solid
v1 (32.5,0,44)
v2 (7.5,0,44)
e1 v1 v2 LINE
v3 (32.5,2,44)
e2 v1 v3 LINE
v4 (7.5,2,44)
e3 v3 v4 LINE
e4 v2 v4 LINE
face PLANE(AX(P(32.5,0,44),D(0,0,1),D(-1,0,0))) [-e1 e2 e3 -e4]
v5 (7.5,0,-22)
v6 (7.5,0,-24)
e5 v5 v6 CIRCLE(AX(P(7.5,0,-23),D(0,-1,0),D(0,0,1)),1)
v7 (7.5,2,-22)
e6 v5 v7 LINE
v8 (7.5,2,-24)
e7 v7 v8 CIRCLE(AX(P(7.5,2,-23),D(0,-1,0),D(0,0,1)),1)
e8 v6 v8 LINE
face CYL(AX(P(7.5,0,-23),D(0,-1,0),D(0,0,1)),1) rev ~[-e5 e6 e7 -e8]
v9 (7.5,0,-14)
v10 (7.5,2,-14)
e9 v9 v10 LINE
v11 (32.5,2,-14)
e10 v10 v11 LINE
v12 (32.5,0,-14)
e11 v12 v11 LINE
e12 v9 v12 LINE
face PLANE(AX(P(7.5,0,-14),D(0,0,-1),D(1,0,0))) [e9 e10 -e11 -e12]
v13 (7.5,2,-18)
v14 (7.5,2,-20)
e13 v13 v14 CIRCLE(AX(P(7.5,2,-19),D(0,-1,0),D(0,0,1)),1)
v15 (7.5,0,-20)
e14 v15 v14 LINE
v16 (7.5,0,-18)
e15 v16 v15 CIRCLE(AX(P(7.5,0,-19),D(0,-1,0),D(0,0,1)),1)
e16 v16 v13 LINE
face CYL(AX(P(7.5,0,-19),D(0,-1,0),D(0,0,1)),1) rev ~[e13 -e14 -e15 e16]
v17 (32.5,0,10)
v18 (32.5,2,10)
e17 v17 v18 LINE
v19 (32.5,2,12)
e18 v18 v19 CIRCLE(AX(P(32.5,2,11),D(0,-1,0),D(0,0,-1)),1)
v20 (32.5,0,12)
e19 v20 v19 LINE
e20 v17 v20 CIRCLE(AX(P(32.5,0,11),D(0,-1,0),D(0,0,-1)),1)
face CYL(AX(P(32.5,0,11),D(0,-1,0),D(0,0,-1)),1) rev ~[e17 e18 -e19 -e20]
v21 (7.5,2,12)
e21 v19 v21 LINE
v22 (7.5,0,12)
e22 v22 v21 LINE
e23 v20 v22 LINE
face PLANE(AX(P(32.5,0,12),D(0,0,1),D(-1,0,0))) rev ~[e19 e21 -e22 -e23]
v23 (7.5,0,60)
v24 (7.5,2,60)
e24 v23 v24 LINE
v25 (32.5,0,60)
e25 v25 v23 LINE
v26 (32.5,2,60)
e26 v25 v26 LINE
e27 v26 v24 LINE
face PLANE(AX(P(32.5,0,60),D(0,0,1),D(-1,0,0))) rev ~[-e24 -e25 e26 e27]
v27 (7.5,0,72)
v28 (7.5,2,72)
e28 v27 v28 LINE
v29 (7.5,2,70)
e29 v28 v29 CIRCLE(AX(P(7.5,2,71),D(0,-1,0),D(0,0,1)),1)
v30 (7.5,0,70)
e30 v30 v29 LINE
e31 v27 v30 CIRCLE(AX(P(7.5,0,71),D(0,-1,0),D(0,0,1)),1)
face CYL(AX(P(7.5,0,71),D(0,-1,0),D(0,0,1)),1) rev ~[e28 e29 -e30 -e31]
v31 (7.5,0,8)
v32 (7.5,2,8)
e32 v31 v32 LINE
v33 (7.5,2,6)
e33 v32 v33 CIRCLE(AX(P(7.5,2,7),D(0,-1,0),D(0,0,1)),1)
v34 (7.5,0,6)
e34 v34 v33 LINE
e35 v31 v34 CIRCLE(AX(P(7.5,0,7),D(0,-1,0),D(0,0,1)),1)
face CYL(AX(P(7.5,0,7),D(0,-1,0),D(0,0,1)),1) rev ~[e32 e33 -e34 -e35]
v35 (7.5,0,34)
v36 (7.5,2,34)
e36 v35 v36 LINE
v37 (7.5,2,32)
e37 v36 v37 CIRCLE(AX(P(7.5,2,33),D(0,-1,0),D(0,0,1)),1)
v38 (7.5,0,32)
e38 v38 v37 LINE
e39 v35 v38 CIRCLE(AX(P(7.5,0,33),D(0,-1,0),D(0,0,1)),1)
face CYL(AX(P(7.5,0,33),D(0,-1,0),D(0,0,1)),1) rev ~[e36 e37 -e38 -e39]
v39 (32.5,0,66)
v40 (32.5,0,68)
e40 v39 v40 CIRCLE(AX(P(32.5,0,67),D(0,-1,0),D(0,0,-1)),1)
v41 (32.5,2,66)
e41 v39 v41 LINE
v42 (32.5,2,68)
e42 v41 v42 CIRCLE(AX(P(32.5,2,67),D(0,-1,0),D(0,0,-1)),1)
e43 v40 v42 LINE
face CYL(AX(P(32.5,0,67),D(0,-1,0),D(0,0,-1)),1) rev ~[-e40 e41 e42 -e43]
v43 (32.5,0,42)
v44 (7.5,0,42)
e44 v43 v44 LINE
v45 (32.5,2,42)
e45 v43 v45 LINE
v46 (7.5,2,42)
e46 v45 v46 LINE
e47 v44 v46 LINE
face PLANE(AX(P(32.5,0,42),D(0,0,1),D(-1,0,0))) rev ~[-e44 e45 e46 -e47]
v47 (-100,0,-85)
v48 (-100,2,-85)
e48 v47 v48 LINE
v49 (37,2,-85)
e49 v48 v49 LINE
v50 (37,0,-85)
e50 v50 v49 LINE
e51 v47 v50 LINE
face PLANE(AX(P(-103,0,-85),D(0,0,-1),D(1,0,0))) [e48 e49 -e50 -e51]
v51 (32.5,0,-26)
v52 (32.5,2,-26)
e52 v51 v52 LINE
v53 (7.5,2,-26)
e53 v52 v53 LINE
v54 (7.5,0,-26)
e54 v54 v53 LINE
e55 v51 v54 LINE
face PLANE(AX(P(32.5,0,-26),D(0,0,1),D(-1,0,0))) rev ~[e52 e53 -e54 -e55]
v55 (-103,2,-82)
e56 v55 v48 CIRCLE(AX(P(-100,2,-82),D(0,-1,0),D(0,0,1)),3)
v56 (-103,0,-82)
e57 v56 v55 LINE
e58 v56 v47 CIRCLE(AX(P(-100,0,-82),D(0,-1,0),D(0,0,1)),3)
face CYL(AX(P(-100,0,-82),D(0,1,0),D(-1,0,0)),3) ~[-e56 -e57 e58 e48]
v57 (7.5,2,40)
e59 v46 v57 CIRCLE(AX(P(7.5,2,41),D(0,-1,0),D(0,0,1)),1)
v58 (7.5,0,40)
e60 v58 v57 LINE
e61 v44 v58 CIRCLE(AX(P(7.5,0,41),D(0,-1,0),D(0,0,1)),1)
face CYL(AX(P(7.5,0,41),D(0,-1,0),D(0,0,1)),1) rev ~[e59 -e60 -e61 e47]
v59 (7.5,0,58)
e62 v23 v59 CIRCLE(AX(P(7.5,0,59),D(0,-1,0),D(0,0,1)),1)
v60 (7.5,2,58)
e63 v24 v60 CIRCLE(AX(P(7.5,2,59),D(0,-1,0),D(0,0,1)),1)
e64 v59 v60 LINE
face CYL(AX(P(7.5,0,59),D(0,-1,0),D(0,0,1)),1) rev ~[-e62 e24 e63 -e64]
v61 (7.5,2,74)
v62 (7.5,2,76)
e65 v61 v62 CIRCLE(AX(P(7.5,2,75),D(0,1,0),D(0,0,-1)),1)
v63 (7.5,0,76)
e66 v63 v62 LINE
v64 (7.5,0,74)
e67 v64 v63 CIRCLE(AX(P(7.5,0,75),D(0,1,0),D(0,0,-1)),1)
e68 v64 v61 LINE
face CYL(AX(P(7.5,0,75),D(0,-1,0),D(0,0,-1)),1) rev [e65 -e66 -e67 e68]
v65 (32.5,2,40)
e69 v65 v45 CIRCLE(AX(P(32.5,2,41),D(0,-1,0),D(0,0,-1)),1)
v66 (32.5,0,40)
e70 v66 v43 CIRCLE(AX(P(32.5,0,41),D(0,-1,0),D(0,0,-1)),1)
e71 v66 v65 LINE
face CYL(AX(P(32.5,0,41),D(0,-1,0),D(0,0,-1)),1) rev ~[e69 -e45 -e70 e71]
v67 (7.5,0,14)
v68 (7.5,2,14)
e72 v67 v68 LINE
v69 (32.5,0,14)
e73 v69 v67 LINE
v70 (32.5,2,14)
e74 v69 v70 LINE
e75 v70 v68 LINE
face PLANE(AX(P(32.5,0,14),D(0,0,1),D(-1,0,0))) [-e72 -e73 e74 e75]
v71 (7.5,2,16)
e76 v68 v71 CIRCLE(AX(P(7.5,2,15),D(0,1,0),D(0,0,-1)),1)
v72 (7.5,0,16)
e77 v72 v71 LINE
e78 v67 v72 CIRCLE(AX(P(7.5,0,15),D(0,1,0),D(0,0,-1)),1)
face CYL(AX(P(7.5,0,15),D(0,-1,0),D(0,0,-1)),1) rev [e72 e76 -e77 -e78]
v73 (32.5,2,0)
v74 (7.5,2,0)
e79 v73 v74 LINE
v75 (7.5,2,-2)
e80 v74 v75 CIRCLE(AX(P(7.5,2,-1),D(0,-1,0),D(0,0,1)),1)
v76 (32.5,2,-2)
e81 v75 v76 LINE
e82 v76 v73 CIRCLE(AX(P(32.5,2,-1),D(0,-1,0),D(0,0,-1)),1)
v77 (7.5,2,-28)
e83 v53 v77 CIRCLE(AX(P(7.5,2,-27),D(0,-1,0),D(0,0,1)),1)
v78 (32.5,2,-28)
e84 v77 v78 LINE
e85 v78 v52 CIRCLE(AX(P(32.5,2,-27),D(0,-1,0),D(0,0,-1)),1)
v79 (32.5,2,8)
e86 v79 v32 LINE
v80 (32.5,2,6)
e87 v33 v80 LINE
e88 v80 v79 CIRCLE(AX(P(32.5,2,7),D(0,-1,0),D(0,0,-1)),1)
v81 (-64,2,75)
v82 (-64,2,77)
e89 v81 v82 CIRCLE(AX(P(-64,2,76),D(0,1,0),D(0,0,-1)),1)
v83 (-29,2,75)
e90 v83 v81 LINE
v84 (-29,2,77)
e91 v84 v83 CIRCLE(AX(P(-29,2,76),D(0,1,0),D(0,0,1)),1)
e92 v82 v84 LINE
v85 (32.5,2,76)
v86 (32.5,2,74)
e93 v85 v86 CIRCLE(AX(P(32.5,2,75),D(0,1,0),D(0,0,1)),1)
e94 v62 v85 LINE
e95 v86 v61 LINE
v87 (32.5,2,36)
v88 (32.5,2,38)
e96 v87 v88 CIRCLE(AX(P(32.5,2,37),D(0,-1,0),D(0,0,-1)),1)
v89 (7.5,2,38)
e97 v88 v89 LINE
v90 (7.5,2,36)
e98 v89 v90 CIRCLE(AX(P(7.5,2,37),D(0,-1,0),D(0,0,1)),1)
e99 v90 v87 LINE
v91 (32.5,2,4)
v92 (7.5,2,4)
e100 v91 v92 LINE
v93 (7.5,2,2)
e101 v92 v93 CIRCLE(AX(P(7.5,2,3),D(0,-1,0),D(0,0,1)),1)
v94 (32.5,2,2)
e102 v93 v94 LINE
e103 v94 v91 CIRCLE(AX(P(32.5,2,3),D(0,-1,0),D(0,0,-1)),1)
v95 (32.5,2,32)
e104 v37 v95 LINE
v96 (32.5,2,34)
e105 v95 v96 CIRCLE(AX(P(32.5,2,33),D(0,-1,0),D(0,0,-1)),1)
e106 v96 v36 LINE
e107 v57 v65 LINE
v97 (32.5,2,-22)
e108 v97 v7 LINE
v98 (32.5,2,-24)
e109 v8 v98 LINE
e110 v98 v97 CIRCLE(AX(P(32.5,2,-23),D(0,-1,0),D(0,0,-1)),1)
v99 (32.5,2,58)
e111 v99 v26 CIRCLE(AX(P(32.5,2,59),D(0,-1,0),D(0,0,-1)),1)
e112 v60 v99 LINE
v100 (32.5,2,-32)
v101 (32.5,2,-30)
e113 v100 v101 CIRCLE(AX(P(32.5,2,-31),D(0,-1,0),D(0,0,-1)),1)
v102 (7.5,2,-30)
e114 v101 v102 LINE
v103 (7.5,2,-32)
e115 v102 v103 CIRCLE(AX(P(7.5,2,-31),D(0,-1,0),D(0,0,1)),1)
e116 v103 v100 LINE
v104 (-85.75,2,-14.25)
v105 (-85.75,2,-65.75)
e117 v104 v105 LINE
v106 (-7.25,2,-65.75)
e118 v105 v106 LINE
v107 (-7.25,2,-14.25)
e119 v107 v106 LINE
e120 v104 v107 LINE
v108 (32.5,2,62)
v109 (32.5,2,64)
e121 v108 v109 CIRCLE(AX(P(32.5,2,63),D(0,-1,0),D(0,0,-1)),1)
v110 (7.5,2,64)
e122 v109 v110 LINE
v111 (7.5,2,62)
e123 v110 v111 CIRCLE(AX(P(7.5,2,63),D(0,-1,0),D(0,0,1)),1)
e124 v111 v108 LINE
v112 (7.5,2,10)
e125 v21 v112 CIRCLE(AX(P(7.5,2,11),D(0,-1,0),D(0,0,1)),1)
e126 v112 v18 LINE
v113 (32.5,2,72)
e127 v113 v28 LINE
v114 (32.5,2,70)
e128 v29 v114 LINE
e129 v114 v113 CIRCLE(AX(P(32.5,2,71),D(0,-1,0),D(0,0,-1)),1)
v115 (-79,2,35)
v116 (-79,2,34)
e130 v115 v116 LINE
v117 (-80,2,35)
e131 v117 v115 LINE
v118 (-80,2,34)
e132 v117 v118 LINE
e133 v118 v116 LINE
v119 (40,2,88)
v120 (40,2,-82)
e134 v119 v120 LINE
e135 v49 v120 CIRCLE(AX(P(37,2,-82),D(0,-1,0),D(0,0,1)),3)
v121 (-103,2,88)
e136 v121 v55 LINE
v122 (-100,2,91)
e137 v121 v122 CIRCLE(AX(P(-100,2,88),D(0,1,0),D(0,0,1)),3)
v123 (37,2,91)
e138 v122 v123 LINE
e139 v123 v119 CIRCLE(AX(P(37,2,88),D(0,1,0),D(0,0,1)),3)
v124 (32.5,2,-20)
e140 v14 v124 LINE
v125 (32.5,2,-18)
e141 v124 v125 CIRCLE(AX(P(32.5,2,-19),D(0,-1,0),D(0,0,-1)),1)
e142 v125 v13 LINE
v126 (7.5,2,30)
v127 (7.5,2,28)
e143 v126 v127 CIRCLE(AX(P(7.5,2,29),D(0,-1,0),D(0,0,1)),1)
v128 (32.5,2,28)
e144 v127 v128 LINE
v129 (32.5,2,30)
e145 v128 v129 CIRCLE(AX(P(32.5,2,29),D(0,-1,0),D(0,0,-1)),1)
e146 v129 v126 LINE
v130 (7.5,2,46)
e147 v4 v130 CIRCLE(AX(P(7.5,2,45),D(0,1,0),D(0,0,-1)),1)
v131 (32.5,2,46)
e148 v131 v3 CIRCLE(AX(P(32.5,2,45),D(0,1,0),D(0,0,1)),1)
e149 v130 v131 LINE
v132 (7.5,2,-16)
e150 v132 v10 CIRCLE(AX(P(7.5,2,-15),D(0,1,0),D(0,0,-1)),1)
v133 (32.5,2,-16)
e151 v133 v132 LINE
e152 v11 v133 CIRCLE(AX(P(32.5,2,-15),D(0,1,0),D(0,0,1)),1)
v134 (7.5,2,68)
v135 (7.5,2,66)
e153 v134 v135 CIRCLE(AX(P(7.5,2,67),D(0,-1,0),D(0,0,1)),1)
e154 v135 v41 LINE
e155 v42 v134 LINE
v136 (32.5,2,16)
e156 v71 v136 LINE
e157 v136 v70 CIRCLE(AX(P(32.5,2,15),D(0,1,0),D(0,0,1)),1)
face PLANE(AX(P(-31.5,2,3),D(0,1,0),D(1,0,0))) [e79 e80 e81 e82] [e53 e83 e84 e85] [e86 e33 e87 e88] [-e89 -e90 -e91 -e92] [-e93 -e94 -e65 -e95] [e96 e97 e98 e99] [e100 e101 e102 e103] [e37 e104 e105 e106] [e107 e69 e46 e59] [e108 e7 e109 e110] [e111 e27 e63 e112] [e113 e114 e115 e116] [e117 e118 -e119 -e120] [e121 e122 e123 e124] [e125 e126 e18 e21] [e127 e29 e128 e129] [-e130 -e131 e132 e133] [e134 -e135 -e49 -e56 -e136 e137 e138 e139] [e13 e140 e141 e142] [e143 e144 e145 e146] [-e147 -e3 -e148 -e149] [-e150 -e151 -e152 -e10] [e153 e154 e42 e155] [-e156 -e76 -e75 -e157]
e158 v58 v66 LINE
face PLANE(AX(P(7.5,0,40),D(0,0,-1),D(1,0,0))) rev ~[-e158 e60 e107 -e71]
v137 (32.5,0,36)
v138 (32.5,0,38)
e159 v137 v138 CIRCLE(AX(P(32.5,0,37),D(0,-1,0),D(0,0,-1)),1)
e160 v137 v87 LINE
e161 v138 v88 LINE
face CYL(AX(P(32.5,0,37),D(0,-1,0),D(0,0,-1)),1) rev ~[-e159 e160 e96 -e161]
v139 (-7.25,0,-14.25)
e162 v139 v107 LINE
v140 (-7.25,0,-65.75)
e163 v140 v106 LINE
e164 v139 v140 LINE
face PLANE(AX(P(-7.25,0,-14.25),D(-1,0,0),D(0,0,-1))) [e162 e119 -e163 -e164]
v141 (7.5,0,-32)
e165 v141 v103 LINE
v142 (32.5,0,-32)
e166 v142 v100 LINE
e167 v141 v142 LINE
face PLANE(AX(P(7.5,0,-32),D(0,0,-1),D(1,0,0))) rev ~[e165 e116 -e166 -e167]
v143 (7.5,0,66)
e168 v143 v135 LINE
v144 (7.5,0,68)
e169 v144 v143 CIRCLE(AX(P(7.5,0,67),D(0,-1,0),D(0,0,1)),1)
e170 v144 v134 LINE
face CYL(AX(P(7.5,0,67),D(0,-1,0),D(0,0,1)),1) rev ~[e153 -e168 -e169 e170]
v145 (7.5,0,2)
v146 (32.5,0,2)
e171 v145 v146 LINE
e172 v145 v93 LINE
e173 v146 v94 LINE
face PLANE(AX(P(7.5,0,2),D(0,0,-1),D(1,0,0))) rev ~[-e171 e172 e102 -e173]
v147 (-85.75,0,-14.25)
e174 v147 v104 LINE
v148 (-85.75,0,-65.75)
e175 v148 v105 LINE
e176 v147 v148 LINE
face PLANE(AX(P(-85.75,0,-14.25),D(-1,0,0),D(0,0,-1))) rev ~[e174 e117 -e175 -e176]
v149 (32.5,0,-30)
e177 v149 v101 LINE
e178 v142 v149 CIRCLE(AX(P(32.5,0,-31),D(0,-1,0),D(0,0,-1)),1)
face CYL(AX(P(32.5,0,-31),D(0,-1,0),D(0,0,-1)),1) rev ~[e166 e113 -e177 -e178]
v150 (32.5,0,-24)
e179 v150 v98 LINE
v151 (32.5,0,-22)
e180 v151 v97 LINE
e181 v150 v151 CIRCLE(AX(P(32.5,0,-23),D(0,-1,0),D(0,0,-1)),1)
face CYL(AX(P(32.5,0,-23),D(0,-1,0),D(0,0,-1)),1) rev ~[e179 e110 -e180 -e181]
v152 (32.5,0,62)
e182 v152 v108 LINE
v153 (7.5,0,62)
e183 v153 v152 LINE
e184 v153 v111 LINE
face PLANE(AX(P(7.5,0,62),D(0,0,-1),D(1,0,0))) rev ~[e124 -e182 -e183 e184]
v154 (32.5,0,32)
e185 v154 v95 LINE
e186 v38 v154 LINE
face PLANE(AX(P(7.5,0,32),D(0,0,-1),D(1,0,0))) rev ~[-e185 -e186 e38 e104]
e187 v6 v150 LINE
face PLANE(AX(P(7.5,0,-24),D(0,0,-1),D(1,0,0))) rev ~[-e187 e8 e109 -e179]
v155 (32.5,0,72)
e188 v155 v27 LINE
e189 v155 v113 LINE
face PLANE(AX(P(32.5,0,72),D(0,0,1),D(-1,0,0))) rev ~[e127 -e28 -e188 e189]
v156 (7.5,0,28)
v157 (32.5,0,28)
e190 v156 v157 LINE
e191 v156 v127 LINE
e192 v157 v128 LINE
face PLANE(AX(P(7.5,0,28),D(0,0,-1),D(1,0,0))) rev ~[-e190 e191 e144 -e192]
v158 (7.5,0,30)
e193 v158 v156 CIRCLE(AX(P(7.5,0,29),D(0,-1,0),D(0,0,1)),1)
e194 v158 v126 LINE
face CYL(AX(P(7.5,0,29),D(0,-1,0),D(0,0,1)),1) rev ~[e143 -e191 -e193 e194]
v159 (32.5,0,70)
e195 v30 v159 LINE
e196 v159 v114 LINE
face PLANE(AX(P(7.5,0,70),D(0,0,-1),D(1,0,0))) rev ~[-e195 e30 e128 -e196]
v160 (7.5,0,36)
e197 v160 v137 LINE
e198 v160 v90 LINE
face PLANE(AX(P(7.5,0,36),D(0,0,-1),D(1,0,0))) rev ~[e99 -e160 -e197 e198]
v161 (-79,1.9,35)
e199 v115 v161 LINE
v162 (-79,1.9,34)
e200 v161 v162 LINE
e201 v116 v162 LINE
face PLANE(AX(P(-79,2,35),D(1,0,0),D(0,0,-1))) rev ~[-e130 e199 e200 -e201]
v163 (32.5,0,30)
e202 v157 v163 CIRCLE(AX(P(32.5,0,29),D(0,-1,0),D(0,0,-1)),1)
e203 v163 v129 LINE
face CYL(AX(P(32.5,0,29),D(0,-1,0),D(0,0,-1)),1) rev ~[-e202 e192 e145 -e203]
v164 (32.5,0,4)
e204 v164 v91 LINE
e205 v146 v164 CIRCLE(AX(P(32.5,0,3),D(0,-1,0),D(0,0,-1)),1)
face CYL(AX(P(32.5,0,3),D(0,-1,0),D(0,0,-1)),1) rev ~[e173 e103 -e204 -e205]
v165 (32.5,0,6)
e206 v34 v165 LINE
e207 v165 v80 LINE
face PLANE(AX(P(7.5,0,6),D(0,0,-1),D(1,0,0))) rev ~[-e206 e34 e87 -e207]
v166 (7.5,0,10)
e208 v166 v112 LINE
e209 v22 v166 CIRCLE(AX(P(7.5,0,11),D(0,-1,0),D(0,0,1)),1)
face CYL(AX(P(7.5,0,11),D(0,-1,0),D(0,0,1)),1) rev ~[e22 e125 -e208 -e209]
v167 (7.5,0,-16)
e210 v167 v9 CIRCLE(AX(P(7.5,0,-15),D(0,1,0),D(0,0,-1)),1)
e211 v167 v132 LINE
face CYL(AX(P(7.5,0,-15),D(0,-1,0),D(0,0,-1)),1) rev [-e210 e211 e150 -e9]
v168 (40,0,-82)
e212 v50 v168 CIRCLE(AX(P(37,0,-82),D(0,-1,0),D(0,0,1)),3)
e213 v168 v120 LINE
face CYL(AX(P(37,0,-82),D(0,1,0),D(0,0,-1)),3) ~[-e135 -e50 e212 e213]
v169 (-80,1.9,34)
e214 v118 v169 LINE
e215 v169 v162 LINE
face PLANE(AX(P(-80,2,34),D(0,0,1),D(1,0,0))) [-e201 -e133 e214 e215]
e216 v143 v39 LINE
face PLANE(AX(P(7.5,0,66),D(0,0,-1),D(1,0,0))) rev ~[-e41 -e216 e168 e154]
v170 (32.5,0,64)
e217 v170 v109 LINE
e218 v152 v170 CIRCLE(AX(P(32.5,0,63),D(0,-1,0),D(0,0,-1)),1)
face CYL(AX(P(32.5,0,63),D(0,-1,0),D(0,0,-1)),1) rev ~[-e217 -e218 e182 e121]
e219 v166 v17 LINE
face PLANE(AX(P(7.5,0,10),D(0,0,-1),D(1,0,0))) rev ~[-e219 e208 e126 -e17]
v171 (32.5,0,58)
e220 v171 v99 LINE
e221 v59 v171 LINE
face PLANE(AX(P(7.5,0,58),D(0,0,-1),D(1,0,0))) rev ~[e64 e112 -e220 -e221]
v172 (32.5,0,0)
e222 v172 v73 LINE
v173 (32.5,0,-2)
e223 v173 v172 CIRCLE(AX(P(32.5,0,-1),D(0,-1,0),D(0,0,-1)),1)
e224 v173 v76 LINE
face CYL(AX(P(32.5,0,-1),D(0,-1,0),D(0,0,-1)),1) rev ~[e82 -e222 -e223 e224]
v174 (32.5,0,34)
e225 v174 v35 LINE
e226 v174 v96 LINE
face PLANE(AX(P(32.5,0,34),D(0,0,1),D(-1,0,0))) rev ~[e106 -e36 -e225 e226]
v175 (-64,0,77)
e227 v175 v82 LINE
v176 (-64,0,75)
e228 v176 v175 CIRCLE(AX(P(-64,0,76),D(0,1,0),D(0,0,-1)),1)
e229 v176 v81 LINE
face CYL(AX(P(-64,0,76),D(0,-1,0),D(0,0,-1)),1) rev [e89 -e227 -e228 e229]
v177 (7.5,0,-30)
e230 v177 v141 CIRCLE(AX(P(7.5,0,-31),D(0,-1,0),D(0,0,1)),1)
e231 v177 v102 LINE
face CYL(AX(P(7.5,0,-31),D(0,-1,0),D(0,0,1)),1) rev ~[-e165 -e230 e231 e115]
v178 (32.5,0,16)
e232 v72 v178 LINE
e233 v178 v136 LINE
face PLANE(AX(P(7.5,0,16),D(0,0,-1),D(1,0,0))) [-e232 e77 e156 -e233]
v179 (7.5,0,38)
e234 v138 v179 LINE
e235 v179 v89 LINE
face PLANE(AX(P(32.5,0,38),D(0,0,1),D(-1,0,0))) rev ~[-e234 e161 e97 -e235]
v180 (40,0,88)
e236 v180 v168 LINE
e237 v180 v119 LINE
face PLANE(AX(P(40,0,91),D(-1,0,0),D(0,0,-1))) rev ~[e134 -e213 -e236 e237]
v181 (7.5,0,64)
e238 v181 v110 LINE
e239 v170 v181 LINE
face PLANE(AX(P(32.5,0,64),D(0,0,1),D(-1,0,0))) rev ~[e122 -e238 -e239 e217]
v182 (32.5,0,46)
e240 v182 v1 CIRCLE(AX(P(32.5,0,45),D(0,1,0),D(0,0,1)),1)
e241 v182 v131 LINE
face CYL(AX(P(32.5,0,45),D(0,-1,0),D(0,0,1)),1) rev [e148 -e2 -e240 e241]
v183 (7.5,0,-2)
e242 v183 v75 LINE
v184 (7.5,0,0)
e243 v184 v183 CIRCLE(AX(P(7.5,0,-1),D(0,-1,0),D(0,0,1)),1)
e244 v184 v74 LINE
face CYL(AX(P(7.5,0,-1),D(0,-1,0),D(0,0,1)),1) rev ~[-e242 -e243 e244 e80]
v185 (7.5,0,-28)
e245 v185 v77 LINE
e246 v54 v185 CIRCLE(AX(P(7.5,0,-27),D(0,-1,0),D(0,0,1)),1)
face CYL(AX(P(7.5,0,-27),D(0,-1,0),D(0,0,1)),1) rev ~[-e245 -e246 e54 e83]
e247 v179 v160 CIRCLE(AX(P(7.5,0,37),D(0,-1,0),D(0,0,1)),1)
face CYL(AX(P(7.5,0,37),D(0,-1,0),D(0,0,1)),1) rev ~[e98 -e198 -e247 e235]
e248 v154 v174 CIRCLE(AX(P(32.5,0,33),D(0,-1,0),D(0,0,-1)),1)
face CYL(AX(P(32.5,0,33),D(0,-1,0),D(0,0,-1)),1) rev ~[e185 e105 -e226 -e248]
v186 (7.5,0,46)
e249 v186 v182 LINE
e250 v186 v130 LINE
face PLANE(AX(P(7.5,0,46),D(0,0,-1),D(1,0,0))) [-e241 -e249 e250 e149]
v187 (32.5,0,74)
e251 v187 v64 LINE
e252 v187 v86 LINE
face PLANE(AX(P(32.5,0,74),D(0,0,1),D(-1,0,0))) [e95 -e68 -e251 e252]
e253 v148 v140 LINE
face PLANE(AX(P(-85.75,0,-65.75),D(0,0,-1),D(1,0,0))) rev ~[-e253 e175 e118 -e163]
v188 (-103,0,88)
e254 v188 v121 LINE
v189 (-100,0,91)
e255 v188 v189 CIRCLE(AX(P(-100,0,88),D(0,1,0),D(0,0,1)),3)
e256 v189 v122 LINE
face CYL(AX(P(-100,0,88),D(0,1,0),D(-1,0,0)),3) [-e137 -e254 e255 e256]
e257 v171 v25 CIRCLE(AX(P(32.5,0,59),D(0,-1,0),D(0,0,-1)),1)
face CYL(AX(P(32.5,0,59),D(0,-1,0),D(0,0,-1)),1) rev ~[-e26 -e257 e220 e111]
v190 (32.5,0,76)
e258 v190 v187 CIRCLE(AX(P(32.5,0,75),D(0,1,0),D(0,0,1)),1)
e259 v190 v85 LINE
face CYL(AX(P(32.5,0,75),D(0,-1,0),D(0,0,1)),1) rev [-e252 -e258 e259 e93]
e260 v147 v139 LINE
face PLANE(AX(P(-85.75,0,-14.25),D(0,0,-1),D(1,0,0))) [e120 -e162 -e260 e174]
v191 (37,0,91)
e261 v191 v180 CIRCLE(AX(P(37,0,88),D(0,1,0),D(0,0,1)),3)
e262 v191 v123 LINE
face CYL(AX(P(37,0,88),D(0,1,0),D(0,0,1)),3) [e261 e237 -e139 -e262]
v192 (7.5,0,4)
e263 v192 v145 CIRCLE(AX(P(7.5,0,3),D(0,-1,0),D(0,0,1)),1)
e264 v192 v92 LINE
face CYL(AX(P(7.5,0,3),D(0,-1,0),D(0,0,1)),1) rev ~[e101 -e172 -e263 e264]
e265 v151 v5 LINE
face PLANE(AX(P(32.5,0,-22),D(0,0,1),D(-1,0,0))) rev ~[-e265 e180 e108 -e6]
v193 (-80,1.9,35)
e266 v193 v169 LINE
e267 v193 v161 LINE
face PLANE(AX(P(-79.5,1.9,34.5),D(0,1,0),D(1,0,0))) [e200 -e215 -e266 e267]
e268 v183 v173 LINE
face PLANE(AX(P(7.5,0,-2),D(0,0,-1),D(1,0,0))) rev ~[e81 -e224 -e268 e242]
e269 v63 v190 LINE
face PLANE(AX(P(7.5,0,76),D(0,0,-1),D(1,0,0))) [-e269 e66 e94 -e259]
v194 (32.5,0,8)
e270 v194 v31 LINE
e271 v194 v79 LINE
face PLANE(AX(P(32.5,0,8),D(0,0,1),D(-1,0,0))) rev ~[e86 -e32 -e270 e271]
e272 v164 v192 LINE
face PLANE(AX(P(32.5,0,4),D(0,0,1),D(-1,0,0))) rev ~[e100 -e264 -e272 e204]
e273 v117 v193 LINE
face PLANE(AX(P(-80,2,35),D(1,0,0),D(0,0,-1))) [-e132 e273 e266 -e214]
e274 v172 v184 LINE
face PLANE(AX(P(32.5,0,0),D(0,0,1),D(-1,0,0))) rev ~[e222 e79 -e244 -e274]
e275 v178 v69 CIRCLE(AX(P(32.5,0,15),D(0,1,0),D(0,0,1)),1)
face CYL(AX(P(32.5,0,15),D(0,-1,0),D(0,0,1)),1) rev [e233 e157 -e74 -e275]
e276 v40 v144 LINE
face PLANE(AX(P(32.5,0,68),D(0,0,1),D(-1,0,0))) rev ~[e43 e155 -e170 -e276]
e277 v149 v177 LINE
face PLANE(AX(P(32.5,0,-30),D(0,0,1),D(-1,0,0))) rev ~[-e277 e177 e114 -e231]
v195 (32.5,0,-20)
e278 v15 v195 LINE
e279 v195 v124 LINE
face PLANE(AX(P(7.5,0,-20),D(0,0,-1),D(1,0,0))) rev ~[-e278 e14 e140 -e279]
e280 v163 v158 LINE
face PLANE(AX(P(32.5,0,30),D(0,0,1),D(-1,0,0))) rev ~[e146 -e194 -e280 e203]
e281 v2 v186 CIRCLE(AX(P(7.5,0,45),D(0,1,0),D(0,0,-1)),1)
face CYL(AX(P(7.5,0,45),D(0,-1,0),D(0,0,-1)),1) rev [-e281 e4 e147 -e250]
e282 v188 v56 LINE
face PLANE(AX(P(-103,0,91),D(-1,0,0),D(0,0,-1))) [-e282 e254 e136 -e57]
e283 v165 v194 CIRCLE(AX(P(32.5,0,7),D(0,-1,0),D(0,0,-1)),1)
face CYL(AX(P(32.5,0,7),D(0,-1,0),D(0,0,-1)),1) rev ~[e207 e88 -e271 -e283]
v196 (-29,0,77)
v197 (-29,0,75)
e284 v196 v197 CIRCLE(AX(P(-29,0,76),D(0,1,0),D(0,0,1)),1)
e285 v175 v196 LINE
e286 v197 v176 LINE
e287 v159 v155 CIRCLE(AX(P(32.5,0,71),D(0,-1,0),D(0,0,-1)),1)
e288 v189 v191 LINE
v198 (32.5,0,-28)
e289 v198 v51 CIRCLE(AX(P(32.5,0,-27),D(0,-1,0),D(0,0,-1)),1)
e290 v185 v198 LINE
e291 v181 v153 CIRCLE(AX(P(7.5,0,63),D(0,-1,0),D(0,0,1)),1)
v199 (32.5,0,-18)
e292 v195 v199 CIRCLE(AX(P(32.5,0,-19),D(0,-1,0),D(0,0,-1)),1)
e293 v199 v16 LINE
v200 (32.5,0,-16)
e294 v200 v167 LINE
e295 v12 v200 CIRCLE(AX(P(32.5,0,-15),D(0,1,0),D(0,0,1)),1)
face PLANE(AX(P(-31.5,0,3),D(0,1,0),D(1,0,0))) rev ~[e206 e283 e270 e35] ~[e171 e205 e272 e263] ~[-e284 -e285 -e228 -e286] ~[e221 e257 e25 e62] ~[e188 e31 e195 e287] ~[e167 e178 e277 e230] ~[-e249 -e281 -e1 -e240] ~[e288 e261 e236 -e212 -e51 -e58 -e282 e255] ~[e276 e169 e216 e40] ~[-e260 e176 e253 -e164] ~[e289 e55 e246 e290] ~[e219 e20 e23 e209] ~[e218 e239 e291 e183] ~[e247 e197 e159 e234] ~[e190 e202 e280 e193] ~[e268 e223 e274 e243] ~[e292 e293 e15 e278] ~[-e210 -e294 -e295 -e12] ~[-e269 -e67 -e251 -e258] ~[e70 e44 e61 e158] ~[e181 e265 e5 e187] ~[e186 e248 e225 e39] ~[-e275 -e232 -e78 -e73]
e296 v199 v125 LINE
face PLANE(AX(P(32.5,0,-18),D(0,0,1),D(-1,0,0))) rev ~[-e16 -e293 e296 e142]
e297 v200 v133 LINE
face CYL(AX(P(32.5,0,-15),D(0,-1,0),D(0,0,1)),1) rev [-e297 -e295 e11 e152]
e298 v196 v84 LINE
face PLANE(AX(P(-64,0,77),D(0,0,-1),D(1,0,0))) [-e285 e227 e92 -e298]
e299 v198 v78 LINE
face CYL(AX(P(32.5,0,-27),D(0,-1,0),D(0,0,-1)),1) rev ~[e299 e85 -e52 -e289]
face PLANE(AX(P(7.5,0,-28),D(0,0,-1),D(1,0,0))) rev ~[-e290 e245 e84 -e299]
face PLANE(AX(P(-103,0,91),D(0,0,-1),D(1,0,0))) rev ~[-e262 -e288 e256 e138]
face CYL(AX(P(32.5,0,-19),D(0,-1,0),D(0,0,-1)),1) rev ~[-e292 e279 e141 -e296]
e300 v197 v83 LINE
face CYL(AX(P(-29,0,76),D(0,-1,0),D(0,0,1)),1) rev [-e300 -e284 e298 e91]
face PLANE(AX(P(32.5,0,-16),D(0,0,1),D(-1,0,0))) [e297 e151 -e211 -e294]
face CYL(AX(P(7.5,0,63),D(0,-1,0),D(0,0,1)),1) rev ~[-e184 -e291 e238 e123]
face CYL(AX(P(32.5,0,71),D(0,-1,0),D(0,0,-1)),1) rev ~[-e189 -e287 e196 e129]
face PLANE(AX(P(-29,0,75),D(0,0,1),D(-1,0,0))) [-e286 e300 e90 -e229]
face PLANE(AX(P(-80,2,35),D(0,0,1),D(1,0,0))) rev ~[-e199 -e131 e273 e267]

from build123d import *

# Parameters (mm, degrees)
SKETCH1_W           = 143
SKETCH1_H           = 176
SKETCH1_W_2         = 78.5
SKETCH1_H_2         = 51.5
BOSS_EXTRUDE1_DEPTH = 2
SKETCH2_W           = 1
SKETCH2_H           = 1
CUT_EXTRUDE1_DEPTH  = 0.1
FILLET1_R           = 3


with BuildPart() as part:
    # Sketch1 → Boss-Extrude1 (new body)
    with BuildSketch(Plane(origin=(0, 0, 0), x_dir=(1, 0, 0), z_dir=(0, 1, 0))):
        with Locations((-31.5, -3)):
            Rectangle(SKETCH1_W, SKETCH1_H)
        with Locations((-46.5, 40)):
            Rectangle(SKETCH1_W_2, SKETCH1_H_2, mode=Mode.SUBTRACT)
        with BuildLine():
            Line((-64, -77), (-29, -77))
            ThreePointArc((-29, -77), (-28, -76), (-29, -75))
            Line((-29, -75), (-64, -75))
            ThreePointArc((-64, -75), (-65, -76), (-64, -77))
        make_face(mode=Mode.SUBTRACT)
        with BuildLine():
            Line((7.5, -70), (32.5, -70))
            ThreePointArc((32.5, -70), (33.5, -71), (32.5, -72))
            Line((32.5, -72), (7.5, -72))
            ThreePointArc((7.5, -72), (6.5, -71), (7.5, -70))
        make_face(mode=Mode.SUBTRACT)
        with BuildLine():
            Line((7.5, -76), (32.5, -76))
            ThreePointArc((32.5, -76), (33.5, -75), (32.5, -74))
            Line((32.5, -74), (7.5, -74))
            ThreePointArc((7.5, -74), (6.5, -75), (7.5, -76))
        make_face(mode=Mode.SUBTRACT)
        with BuildLine():
            Line((7.5, -66), (32.5, -66))
            ThreePointArc((32.5, -66), (33.5, -67), (32.5, -68))
            Line((32.5, -68), (7.5, -68))
            ThreePointArc((7.5, -68), (6.5, -67), (7.5, -66))
        make_face(mode=Mode.SUBTRACT)
        with BuildLine():
            Line((7.5, -62), (32.5, -62))
            ThreePointArc((32.5, -62), (33.5, -63), (32.5, -64))
            Line((32.5, -64), (7.5, -64))
            ThreePointArc((7.5, -64), (6.5, -63), (7.5, -62))
        make_face(mode=Mode.SUBTRACT)
        with BuildLine():
            Line((7.5, -58), (32.5, -58))
            ThreePointArc((32.5, -58), (33.5, -59), (32.5, -60))
            Line((32.5, -60), (7.5, -60))
            ThreePointArc((7.5, -60), (6.5, -59), (7.5, -58))
        make_face(mode=Mode.SUBTRACT)
        with BuildLine():
            Line((7.5, -40), (32.5, -40))
            ThreePointArc((32.5, -40), (33.5, -41), (32.5, -42))
            Line((32.5, -42), (7.5, -42))
            ThreePointArc((7.5, -42), (6.5, -41), (7.5, -40))
        make_face(mode=Mode.SUBTRACT)
        with BuildLine():
            Line((7.5, -46), (32.5, -46))
            ThreePointArc((32.5, -46), (33.5, -45), (32.5, -44))
            Line((32.5, -44), (7.5, -44))
            ThreePointArc((7.5, -44), (6.5, -45), (7.5, -46))
        make_face(mode=Mode.SUBTRACT)
        with BuildLine():
            Line((7.5, -36), (32.5, -36))
            ThreePointArc((32.5, -36), (33.5, -37), (32.5, -38))
            Line((32.5, -38), (7.5, -38))
            ThreePointArc((7.5, -38), (6.5, -37), (7.5, -36))
        make_face(mode=Mode.SUBTRACT)
        with BuildLine():
            Line((7.5, -32), (32.5, -32))
            ThreePointArc((32.5, -32), (33.5, -33), (32.5, -34))
            Line((32.5, -34), (7.5, -34))
            ThreePointArc((7.5, -34), (6.5, -33), (7.5, -32))
        make_face(mode=Mode.SUBTRACT)
        with BuildLine():
            Line((7.5, -28), (32.5, -28))
            ThreePointArc((32.5, -28), (33.5, -29), (32.5, -30))
            Line((32.5, -30), (7.5, -30))
            ThreePointArc((7.5, -30), (6.5, -29), (7.5, -28))
        make_face(mode=Mode.SUBTRACT)
        with BuildLine():
            Line((7.5, -10), (32.5, -10))
            ThreePointArc((32.5, -10), (33.5, -11), (32.5, -12))
            Line((32.5, -12), (7.5, -12))
            ThreePointArc((7.5, -12), (6.5, -11), (7.5, -10))
        make_face(mode=Mode.SUBTRACT)
        with BuildLine():
            Line((7.5, -16), (32.5, -16))
            ThreePointArc((32.5, -16), (33.5, -15), (32.5, -14))
            Line((32.5, -14), (7.5, -14))
            ThreePointArc((7.5, -14), (6.5, -15), (7.5, -16))
        make_face(mode=Mode.SUBTRACT)
        with BuildLine():
            Line((7.5, -6), (32.5, -6))
            ThreePointArc((32.5, -6), (33.5, -7), (32.5, -8))
            Line((32.5, -8), (7.5, -8))
            ThreePointArc((7.5, -8), (6.5, -7), (7.5, -6))
        make_face(mode=Mode.SUBTRACT)
        with BuildLine():
            Line((7.5, -2), (32.5, -2))
            ThreePointArc((32.5, -2), (33.5, -3), (32.5, -4))
            Line((32.5, -4), (7.5, -4))
            ThreePointArc((7.5, -4), (6.5, -3), (7.5, -2))
        make_face(mode=Mode.SUBTRACT)
        with BuildLine():
            Line((7.5, 2), (32.5, 2))
            ThreePointArc((32.5, 2), (33.5, 1), (32.5, 0))
            Line((32.5, 0), (7.5, 0))
            ThreePointArc((7.5, 0), (6.5, 1), (7.5, 2))
        make_face(mode=Mode.SUBTRACT)
        with BuildLine():
            Line((7.5, 20), (32.5, 20))
            ThreePointArc((32.5, 20), (33.5, 19), (32.5, 18))
            Line((32.5, 18), (7.5, 18))
            ThreePointArc((7.5, 18), (6.5, 19), (7.5, 20))
        make_face(mode=Mode.SUBTRACT)
        with BuildLine():
            Line((7.5, 14), (32.5, 14))
            ThreePointArc((32.5, 14), (33.5, 15), (32.5, 16))
            Line((32.5, 16), (7.5, 16))
            ThreePointArc((7.5, 16), (6.5, 15), (7.5, 14))
        make_face(mode=Mode.SUBTRACT)
        with BuildLine():
            Line((7.5, 24), (32.5, 24))
            ThreePointArc((32.5, 24), (33.5, 23), (32.5, 22))
            Line((32.5, 22), (7.5, 22))
            ThreePointArc((7.5, 22), (6.5, 23), (7.5, 24))
        make_face(mode=Mode.SUBTRACT)
        with BuildLine():
            Line((7.5, 28), (32.5, 28))
            ThreePointArc((32.5, 28), (33.5, 27), (32.5, 26))
            Line((32.5, 26), (7.5, 26))
            ThreePointArc((7.5, 26), (6.5, 27), (7.5, 28))
        make_face(mode=Mode.SUBTRACT)
        with BuildLine():
            Line((7.5, 32), (32.5, 32))
            ThreePointArc((32.5, 32), (33.5, 31), (32.5, 30))
            Line((32.5, 30), (7.5, 30))
            ThreePointArc((7.5, 30), (6.5, 31), (7.5, 32))
        make_face(mode=Mode.SUBTRACT)
    extrude(amount=BOSS_EXTRUDE1_DEPTH)

    # Sketch2 → Cut-Extrude1 (cut)
    with BuildSketch(Plane(origin=(0, 2, 0), x_dir=(1, 0, 0), z_dir=(0, 1, 0))):
        with Locations((-79.5, -34.5)):
            Rectangle(SKETCH2_W, SKETCH2_H)
    extrude(amount=-CUT_EXTRUDE1_DEPTH, mode=Mode.SUBTRACT)

    # Fillet1
    fillet1_edges = [part.edges().sort_by_distance(p)[0] for p in [
        (-103, 1, -85),
        (40, 1, -85),
        (40, 1, 91),
        (-103, 1, 91),
    ]]
    fillet(fillet1_edges, radius=FILLET1_R)


solid = part.part
